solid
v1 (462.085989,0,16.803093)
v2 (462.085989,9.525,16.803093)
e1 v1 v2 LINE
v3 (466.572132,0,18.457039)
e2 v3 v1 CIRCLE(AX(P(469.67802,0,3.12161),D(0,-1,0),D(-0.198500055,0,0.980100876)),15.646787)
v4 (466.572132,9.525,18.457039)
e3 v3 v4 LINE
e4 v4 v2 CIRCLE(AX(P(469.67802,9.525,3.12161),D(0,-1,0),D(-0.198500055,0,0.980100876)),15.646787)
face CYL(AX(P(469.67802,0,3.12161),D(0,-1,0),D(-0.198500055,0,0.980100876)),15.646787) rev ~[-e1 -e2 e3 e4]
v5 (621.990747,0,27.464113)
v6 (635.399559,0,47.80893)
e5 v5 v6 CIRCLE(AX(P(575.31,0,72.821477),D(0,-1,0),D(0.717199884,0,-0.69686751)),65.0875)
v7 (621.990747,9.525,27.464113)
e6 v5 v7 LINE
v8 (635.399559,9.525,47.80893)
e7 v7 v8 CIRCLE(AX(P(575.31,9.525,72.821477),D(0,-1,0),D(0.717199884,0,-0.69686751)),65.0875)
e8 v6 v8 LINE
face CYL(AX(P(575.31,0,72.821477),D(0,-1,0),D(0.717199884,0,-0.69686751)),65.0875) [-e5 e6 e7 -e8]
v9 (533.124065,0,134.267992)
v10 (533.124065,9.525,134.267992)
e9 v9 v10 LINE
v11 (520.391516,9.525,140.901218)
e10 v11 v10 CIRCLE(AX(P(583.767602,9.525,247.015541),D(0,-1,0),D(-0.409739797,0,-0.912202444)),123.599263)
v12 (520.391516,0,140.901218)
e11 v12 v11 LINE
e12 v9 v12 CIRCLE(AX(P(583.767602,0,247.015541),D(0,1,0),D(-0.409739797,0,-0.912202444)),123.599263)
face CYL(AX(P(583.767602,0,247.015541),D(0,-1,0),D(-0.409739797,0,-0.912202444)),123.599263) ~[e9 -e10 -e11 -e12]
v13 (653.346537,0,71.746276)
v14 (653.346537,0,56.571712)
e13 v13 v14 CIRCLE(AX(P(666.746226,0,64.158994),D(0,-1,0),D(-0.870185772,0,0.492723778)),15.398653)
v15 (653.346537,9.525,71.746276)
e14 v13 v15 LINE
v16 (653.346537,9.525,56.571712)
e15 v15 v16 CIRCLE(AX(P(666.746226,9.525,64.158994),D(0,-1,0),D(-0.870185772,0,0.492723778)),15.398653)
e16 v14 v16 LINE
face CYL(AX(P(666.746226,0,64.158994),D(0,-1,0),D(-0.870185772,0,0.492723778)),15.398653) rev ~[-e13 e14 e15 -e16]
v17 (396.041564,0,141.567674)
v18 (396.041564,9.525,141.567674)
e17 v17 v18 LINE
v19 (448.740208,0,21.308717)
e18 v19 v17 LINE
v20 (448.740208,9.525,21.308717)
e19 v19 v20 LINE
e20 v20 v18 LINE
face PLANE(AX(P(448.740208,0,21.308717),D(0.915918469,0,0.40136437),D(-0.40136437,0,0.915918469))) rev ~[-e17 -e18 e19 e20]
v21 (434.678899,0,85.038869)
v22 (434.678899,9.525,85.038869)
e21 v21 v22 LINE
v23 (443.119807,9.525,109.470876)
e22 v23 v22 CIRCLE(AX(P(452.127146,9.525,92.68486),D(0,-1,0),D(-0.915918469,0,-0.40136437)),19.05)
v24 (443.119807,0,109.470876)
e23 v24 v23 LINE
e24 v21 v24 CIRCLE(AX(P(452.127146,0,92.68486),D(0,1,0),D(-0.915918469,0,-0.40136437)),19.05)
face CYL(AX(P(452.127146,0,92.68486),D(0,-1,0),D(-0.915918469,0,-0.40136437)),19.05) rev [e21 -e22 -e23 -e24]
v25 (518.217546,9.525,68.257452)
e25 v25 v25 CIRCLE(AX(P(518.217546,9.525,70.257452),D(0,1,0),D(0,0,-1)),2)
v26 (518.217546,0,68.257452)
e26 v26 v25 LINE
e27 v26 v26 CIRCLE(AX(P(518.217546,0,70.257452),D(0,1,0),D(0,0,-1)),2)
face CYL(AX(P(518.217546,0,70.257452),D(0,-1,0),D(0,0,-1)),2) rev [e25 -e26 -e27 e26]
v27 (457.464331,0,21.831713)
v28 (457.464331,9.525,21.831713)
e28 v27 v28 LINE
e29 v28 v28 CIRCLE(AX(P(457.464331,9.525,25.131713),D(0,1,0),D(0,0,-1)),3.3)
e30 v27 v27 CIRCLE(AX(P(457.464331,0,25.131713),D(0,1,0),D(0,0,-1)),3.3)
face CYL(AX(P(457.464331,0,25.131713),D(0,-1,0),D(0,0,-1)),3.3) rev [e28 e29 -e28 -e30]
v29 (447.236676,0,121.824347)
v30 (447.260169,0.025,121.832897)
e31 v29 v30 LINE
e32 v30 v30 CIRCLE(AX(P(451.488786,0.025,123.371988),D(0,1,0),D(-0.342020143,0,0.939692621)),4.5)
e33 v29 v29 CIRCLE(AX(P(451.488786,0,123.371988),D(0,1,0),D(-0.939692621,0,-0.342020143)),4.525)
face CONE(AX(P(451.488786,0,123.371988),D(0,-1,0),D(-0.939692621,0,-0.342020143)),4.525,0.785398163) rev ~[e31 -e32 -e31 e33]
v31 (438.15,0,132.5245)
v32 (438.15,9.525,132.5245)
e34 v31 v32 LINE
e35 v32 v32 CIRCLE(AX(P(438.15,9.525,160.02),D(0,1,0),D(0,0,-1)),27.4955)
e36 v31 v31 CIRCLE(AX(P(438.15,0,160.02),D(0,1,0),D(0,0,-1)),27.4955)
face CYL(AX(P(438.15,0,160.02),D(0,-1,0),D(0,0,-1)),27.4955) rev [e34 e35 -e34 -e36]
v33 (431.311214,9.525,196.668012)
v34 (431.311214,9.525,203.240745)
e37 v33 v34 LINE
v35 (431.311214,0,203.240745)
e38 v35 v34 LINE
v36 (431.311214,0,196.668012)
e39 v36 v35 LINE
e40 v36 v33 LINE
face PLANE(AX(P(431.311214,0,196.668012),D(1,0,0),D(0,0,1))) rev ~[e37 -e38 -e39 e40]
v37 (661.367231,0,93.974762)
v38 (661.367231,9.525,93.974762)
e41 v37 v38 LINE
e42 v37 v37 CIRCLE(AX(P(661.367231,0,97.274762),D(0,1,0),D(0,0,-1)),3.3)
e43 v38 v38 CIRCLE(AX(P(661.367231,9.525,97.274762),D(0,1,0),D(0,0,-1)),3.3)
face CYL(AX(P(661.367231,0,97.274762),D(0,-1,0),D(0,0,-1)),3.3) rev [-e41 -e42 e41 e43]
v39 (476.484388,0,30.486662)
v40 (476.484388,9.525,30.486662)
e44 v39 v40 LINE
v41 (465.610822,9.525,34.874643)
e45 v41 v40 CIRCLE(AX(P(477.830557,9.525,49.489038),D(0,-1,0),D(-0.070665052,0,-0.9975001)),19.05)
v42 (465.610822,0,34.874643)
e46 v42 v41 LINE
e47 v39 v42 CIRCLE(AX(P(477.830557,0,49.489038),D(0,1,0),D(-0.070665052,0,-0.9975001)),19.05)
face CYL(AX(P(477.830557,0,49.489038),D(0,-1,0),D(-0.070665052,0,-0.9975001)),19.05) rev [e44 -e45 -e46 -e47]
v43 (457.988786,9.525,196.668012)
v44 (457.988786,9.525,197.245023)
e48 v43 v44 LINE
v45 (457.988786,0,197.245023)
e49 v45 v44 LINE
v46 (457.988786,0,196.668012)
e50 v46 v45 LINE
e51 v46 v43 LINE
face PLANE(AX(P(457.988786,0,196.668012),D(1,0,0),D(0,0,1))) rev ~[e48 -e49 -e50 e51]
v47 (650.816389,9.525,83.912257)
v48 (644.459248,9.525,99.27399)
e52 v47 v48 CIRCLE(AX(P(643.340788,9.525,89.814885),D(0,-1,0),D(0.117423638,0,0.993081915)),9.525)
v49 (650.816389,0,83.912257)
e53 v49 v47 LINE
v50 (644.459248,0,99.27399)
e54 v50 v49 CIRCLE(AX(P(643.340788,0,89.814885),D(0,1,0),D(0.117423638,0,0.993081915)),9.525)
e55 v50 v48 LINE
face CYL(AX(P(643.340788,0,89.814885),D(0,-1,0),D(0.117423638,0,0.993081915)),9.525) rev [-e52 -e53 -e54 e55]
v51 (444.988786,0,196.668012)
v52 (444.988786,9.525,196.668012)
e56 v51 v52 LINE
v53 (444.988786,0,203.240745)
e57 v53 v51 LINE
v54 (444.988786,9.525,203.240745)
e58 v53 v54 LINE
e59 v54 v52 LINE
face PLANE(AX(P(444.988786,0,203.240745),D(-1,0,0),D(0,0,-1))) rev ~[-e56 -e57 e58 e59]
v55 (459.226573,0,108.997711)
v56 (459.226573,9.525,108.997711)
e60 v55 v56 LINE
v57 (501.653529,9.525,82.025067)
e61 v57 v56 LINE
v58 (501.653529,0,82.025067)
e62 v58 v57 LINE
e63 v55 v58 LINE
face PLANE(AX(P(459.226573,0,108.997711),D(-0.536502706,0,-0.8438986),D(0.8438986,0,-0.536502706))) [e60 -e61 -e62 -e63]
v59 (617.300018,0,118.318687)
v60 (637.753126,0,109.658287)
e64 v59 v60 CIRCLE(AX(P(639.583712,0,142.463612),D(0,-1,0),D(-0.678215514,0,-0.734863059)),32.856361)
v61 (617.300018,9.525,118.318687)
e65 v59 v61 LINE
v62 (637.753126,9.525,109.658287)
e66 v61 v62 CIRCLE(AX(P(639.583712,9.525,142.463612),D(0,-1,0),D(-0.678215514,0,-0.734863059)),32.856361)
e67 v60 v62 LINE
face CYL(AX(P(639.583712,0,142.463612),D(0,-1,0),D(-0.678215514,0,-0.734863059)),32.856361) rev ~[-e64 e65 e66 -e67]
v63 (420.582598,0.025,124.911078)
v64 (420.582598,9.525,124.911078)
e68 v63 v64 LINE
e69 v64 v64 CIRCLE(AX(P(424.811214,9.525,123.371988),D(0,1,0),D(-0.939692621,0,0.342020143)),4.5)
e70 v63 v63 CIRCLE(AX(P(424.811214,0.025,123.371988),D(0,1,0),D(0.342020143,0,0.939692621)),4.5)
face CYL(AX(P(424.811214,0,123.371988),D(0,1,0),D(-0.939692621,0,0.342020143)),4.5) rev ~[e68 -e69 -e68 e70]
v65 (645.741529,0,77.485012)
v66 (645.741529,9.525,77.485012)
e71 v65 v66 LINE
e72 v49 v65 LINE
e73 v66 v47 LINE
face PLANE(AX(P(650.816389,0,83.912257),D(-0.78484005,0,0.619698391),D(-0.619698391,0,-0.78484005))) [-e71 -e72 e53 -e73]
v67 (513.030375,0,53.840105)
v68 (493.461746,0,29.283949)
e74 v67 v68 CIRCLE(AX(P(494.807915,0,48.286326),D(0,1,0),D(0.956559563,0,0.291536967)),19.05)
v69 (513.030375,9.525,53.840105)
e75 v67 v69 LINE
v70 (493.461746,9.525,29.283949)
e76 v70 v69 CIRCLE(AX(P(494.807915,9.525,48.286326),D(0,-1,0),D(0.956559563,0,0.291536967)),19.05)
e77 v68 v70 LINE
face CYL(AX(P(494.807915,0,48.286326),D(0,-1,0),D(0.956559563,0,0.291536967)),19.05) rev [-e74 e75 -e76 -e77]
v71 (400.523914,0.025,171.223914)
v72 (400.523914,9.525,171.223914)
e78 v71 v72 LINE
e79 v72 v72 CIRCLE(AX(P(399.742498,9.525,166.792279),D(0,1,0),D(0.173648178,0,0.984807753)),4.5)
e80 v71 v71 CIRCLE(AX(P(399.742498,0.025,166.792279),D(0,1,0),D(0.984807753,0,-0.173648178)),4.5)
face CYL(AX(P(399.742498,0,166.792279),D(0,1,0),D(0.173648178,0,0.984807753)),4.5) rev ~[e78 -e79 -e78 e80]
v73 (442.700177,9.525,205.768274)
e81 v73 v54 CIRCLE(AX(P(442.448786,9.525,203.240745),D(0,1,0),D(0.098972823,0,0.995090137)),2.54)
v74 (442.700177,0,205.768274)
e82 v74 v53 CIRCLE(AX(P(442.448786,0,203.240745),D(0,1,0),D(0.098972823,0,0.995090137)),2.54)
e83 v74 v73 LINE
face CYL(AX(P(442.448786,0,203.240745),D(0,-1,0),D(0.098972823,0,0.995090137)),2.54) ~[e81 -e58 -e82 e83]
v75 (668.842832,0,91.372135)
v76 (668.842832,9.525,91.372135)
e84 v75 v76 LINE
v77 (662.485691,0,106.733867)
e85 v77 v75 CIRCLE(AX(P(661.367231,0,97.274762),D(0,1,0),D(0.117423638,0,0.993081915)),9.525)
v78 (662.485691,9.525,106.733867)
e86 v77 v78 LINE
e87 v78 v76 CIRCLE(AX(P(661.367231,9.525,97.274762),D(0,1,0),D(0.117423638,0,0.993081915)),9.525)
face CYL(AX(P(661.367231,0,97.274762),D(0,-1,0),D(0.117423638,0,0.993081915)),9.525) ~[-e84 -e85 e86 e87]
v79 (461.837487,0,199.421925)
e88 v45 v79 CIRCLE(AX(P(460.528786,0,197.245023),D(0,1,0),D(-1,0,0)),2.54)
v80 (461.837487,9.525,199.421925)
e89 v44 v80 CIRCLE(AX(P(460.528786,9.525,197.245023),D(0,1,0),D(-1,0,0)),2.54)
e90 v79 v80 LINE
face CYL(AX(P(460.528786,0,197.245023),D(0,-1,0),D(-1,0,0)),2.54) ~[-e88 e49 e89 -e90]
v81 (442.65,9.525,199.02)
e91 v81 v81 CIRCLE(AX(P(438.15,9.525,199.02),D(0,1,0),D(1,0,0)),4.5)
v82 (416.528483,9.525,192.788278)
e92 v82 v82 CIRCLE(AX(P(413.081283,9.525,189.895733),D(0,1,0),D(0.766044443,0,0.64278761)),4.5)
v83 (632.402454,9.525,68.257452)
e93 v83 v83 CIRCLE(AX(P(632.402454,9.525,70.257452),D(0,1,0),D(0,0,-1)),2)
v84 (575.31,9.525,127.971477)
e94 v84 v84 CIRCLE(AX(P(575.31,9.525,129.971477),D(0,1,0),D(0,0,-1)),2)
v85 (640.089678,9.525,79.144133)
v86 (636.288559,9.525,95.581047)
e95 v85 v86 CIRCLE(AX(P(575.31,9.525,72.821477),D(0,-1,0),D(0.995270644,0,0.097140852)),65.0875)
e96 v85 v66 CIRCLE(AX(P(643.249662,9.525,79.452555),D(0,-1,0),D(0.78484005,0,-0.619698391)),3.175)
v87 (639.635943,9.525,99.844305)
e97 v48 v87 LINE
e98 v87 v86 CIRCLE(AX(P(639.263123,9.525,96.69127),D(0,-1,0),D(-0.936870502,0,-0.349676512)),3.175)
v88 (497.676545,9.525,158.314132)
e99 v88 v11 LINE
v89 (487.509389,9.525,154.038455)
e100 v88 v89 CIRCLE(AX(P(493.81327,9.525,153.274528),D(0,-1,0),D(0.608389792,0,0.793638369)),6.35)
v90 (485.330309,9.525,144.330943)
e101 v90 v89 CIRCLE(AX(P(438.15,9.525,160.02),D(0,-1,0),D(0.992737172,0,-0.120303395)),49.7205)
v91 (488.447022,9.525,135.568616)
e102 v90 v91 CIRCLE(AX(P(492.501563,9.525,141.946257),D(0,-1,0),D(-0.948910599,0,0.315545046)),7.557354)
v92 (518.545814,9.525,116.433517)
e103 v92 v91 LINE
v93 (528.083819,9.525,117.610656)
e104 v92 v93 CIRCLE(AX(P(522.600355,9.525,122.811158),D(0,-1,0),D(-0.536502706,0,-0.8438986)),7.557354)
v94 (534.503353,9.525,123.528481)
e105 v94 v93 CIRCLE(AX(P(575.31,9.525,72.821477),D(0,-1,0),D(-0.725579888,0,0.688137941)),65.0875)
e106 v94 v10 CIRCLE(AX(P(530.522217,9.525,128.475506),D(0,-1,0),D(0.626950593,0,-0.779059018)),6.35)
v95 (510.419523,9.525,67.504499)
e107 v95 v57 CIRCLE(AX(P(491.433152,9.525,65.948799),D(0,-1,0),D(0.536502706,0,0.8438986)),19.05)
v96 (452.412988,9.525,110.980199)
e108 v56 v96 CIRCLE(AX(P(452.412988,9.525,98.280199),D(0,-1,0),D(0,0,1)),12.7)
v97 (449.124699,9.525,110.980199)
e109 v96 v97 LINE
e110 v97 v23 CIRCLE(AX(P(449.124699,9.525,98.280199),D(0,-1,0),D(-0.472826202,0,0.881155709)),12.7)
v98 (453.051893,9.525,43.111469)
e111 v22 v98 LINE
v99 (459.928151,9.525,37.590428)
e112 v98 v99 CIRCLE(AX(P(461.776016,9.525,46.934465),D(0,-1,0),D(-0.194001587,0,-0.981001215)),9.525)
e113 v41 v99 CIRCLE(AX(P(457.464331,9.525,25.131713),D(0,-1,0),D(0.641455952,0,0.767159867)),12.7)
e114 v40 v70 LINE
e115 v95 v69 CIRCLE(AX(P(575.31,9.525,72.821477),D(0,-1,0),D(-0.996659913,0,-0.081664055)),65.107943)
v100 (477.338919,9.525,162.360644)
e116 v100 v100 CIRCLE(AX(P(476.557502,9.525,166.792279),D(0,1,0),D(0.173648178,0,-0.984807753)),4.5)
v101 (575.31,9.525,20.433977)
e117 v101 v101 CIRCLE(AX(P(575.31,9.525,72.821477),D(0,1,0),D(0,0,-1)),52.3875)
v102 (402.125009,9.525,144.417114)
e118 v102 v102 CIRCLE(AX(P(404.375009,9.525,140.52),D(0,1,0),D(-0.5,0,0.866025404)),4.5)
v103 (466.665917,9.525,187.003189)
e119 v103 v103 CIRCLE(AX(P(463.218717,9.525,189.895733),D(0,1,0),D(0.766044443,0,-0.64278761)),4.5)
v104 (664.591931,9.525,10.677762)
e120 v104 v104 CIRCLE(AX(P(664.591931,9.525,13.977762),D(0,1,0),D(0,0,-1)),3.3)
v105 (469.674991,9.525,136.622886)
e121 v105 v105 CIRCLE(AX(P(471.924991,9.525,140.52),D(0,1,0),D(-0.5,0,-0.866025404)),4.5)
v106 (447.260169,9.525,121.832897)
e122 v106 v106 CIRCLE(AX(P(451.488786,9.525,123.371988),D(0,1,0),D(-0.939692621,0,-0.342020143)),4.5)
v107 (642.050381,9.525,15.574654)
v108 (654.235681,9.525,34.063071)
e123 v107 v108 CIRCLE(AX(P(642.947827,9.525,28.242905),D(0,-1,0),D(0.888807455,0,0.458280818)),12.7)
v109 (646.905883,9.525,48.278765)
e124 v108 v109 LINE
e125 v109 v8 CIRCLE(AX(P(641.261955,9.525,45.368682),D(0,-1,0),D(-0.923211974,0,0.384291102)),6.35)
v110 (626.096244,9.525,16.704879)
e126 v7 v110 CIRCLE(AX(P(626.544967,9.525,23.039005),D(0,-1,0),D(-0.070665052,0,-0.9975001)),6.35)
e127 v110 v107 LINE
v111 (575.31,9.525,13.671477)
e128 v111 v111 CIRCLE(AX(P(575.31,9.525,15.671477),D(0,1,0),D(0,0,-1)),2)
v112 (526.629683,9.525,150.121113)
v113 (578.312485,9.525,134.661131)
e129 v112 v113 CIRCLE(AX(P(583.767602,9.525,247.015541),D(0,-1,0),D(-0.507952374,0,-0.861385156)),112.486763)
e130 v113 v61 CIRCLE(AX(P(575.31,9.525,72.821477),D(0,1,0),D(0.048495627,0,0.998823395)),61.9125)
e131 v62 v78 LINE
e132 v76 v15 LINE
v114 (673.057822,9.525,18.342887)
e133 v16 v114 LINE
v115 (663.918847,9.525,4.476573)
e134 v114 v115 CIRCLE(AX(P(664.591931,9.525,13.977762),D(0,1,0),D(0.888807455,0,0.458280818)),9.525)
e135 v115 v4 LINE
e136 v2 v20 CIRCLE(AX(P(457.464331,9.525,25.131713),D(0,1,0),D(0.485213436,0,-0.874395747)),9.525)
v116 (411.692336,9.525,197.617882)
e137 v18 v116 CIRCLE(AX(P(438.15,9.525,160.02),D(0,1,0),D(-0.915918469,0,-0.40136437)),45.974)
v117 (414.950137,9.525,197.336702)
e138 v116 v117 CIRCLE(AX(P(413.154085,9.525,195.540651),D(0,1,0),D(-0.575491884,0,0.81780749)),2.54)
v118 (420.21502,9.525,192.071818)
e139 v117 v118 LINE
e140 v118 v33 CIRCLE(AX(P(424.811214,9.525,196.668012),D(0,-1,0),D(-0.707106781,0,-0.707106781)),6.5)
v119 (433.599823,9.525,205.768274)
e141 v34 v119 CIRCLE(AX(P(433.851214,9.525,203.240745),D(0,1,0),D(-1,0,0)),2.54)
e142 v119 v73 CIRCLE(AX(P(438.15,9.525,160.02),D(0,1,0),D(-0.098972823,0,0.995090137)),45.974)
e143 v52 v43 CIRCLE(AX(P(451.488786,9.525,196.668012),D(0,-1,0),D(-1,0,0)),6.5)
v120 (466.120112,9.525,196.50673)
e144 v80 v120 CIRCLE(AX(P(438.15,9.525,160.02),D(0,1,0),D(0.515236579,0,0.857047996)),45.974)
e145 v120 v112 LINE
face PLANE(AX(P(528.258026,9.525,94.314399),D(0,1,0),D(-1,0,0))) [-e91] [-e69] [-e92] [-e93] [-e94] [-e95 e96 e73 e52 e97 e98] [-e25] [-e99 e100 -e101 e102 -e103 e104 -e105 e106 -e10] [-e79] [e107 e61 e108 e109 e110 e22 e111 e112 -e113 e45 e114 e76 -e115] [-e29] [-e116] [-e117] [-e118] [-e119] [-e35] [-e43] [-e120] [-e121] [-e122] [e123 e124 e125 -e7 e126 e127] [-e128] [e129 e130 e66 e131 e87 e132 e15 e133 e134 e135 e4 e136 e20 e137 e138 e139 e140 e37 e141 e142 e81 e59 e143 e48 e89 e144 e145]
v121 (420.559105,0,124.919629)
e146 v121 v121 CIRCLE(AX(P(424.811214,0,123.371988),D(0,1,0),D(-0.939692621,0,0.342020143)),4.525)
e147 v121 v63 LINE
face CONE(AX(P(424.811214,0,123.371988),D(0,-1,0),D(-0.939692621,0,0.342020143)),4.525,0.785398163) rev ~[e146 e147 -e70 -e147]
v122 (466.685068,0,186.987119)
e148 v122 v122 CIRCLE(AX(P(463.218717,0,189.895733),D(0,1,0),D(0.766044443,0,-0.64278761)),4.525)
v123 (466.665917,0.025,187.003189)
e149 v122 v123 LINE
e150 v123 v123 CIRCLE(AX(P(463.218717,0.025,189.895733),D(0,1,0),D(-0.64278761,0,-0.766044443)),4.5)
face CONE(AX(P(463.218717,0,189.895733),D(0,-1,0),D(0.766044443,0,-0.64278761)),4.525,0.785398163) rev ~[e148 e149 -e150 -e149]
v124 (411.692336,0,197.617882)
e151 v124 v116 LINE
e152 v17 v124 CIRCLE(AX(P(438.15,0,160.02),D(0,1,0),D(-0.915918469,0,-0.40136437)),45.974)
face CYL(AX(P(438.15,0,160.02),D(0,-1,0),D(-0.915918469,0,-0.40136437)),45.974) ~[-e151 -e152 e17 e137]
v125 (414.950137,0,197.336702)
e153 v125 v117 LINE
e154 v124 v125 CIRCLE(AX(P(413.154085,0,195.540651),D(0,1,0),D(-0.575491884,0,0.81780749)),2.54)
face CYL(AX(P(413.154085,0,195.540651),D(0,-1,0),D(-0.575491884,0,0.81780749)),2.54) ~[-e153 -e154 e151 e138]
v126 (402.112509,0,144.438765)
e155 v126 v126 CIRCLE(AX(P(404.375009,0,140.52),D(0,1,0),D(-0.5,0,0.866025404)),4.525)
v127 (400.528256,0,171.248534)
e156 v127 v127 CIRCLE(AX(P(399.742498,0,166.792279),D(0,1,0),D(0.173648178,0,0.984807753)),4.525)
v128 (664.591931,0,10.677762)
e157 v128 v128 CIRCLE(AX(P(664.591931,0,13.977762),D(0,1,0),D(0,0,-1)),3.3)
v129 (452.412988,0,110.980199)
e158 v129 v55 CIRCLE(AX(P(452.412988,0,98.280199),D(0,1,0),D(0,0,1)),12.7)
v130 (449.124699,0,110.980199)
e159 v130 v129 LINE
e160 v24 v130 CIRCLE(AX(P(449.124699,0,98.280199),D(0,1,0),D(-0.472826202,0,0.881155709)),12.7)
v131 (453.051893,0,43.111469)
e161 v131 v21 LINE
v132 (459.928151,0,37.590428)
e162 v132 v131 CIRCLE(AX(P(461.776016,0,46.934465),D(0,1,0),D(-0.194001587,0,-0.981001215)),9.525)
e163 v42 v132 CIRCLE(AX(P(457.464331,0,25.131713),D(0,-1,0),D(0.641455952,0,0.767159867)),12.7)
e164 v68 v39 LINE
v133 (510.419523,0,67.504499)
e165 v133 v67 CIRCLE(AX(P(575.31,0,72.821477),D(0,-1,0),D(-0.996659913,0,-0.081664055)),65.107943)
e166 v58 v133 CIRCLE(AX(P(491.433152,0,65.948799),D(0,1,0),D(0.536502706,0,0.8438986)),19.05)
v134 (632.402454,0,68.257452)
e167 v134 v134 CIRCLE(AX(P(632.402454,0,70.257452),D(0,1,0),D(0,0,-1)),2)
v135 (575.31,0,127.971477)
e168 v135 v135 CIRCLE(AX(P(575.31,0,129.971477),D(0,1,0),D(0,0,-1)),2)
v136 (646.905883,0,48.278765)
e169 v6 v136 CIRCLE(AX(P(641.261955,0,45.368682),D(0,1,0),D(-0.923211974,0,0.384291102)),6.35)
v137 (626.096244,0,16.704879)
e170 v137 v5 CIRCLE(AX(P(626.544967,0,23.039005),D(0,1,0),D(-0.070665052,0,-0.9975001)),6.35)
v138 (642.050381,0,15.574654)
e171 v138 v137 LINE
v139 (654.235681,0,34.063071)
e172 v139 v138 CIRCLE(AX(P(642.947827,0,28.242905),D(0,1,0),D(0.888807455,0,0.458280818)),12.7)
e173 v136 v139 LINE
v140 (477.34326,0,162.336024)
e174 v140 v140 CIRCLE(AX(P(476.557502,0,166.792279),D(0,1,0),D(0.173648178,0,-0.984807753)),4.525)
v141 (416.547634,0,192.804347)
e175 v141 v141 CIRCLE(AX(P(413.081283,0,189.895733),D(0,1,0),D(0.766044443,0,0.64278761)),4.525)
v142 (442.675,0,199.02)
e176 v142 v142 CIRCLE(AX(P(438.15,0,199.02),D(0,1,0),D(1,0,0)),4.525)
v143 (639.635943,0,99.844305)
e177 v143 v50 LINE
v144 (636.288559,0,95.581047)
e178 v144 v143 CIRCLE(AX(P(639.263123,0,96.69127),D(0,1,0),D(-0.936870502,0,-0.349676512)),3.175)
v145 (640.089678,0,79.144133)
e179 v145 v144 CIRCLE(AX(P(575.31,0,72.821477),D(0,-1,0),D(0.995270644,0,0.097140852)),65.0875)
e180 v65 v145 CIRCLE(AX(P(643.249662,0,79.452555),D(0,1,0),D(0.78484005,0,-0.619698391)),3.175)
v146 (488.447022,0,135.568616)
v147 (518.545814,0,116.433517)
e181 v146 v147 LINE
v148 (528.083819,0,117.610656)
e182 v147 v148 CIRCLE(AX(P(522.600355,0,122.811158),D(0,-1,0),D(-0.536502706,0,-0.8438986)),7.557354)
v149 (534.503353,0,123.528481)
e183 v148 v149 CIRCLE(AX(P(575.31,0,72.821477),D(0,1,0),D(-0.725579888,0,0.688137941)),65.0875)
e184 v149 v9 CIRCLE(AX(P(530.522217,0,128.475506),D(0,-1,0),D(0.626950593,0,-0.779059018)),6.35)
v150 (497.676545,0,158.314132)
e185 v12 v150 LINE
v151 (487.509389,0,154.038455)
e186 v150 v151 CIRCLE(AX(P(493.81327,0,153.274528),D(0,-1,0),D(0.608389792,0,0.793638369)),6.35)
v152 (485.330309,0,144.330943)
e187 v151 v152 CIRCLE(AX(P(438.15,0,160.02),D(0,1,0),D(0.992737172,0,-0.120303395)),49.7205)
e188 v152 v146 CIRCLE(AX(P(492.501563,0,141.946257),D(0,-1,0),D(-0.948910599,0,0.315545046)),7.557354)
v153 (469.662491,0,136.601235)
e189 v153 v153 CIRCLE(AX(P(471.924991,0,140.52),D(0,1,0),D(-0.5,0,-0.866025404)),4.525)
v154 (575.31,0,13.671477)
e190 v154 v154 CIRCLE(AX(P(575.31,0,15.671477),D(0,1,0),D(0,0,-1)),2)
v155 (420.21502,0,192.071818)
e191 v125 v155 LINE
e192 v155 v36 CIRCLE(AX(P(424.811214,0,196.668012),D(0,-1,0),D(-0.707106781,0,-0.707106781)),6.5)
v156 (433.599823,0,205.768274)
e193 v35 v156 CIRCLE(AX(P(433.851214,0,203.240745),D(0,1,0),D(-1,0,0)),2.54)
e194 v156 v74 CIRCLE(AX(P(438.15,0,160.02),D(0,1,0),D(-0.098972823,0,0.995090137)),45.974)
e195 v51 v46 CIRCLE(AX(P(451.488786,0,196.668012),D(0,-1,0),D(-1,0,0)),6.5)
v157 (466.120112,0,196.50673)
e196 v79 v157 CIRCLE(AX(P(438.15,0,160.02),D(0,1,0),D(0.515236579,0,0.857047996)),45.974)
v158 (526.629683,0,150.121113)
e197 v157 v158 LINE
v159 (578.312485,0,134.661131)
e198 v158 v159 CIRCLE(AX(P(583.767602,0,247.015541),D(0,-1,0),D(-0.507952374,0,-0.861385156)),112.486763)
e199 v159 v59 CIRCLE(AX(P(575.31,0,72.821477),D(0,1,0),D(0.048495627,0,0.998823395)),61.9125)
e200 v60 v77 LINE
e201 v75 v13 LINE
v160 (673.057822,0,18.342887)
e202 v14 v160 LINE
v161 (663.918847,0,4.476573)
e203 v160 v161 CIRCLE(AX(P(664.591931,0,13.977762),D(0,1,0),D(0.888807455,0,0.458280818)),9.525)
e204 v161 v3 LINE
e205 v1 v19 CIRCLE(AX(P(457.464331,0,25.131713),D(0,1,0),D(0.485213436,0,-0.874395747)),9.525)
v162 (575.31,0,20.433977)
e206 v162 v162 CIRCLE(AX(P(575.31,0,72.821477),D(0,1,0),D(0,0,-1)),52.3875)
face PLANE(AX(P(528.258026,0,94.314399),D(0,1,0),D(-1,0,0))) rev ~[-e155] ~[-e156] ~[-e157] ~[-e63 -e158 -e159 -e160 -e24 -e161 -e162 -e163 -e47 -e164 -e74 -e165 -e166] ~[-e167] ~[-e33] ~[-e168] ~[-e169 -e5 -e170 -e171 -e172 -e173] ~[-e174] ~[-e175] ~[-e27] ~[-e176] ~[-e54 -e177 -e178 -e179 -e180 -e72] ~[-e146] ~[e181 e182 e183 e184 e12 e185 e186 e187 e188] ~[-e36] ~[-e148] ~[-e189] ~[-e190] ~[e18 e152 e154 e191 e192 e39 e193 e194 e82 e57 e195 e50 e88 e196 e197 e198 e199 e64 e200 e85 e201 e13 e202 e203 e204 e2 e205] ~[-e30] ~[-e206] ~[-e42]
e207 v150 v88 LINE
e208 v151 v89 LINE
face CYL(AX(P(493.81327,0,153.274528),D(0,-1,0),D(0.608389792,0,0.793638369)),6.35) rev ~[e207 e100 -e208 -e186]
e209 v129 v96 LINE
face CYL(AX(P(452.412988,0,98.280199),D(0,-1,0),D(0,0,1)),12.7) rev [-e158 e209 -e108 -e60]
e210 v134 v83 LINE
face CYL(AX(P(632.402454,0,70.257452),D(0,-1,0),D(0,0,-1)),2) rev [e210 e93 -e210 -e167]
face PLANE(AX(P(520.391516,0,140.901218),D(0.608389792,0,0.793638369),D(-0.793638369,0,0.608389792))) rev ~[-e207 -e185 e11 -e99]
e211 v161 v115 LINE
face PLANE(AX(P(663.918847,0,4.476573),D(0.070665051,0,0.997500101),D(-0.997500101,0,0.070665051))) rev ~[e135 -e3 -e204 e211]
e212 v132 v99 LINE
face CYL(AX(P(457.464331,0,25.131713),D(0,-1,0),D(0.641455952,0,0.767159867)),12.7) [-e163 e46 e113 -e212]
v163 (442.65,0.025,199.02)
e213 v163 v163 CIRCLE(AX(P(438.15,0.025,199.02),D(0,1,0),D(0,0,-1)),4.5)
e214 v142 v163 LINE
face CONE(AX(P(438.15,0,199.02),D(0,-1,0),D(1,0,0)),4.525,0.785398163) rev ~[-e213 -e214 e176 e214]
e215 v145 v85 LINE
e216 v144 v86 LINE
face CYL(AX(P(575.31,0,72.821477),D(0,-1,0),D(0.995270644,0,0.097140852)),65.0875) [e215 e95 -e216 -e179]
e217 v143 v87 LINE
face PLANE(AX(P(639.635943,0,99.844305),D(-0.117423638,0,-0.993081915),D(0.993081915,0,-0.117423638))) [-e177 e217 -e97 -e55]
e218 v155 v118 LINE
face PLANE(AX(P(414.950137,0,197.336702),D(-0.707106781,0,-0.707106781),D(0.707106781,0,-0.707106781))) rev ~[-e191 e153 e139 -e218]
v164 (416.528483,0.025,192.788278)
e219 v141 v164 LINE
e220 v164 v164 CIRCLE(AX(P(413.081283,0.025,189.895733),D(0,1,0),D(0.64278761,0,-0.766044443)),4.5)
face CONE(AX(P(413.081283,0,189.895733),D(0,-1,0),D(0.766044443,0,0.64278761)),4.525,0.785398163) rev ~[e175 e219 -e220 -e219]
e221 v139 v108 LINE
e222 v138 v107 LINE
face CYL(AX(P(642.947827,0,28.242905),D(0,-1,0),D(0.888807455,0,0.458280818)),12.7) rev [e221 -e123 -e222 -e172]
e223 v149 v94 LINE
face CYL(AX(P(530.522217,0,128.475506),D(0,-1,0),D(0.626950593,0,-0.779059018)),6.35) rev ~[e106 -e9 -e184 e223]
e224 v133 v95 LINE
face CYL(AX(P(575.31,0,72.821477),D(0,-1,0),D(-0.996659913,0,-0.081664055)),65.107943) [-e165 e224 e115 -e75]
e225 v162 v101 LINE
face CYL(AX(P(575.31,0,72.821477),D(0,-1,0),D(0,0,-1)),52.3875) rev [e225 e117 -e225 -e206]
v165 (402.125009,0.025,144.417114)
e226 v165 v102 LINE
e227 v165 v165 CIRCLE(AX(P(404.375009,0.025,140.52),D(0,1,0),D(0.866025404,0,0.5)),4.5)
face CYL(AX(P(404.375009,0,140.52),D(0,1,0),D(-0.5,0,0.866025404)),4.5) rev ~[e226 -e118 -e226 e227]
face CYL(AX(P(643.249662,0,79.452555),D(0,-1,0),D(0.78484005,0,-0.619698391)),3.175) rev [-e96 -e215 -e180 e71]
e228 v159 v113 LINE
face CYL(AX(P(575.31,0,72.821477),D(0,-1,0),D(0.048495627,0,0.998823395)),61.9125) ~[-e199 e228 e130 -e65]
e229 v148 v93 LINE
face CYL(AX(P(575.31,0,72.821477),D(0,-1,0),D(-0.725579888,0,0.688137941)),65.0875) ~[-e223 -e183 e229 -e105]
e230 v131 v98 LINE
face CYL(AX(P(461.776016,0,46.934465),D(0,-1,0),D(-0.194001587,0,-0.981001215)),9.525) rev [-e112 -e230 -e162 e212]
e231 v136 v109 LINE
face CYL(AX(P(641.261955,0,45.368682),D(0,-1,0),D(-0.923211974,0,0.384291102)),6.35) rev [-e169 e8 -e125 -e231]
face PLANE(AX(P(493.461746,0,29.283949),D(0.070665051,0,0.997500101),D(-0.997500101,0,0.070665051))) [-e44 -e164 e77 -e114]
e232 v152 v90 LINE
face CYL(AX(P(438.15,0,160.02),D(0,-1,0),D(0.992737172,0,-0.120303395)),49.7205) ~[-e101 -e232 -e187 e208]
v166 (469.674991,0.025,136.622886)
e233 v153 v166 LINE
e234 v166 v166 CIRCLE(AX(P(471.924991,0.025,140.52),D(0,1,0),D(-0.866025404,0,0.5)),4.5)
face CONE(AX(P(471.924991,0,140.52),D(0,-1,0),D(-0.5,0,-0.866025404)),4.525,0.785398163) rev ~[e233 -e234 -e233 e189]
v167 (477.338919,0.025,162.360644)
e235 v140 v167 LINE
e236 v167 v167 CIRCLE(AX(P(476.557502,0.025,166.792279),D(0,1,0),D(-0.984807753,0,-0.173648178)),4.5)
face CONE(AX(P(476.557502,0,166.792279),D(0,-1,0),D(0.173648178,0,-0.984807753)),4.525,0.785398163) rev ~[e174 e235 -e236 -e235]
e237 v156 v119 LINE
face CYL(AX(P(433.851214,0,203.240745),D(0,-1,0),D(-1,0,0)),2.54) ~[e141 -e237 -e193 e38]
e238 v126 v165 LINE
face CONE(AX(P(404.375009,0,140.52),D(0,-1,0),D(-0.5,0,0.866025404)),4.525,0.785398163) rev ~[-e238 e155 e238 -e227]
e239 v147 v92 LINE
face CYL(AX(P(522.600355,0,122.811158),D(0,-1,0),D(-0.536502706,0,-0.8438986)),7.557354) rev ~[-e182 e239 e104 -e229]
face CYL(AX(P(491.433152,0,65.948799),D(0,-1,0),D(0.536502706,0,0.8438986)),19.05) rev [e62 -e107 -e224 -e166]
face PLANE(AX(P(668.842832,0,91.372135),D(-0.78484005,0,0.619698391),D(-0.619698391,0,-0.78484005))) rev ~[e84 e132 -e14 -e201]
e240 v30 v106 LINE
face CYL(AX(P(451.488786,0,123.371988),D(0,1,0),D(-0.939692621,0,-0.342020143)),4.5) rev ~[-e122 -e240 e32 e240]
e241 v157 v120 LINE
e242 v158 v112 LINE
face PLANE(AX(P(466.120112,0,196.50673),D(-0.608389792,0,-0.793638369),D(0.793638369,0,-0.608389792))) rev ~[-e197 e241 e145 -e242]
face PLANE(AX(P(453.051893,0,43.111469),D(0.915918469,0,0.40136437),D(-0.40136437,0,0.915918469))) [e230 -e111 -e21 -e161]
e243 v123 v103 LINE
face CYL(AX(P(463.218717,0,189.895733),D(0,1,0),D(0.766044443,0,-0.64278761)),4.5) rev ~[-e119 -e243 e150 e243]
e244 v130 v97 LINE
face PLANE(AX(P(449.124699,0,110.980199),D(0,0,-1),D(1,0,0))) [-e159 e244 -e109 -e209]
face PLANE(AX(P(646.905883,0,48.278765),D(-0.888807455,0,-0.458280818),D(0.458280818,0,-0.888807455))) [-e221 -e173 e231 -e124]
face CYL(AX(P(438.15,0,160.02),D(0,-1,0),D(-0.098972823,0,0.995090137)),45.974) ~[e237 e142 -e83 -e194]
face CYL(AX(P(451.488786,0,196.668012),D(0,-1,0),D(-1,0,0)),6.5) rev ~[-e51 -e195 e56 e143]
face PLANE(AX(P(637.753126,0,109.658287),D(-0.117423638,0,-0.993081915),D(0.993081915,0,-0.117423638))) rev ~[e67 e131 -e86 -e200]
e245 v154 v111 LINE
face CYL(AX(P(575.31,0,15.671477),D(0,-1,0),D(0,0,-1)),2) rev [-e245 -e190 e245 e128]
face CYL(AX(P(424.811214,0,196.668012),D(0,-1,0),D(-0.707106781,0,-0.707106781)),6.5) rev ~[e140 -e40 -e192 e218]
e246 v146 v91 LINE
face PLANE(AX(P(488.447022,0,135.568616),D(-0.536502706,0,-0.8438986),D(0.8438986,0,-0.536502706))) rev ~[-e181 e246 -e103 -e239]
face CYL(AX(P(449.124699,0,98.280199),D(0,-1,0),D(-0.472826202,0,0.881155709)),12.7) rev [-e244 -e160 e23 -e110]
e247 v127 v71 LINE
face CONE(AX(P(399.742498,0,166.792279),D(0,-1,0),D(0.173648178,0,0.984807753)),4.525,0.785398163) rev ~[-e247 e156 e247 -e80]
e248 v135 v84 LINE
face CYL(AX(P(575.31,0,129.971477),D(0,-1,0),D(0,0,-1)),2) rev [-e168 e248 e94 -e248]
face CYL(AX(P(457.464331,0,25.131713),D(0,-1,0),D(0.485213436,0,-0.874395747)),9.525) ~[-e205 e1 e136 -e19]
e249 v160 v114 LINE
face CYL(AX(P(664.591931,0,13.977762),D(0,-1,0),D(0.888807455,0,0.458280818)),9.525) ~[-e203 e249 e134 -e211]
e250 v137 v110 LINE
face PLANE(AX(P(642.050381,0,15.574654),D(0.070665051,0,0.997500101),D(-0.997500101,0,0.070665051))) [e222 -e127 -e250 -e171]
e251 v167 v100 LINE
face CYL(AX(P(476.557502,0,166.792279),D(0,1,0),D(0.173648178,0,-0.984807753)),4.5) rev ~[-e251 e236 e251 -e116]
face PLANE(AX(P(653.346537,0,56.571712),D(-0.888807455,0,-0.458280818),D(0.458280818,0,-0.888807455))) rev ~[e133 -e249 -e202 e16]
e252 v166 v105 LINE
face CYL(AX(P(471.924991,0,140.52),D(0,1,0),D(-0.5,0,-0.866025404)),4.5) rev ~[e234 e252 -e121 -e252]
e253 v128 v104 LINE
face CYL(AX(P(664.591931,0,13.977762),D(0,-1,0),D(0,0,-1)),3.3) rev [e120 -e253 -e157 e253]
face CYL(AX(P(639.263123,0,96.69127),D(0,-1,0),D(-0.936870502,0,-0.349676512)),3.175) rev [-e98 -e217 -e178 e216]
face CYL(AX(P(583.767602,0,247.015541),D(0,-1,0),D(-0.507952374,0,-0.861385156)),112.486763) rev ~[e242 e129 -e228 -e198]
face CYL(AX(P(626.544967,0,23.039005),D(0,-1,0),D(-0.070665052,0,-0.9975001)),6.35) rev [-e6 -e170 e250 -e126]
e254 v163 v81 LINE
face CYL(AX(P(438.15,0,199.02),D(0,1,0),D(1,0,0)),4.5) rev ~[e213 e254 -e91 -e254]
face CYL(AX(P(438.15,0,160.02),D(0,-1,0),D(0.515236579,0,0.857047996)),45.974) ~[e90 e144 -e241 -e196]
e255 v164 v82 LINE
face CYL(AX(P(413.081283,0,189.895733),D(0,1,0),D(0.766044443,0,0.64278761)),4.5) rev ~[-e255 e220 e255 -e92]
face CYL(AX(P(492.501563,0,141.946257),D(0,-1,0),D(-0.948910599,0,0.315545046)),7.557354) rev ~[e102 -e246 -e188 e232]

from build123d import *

# Parameters (mm, degrees)
SKETCH1_R                      = 27.4955
SKETCH1_R_2                    = 2
SKETCH1_R_3                    = 52.3875
SKETCH1_R_4                    = 3.3
BOSS_EXTRUDE1_DEPTH            = 9.525
M8_CLEARANCE_HOLE1_D           = 9
M8_CLEARANCE_HOLE1_CSINK_D     = 9.05
M8_CLEARANCE_HOLE1_CSINK_ANGLE = 90
CIRPATTERN1_COUNT              = 9
CUT_EXTRUDE2_DEPTH             = 705.952403184


with BuildPart() as part:
    # Sketch1 → Boss-Extrude1 (new body)
    with BuildSketch(Plane(origin=(0, 0, 0), x_dir=(-1, 0, 0), z_dir=(0, 1, 0))):
        with BuildLine():
            Line((-663.918846707, 4.476573271), (-466.57213203, 18.457038772))
            ThreePointArc((-466.57213203, 18.457038772), (-464.265511177, 17.802436421), (-462.085988967, 16.80309317))
            ThreePointArc((-462.085988967, 16.80309317), (-454.417575787, 16.107140218), (-448.740207572, 21.308717033))
            Line((-448.740207572, 21.308717033), (-396.041564291, 141.567674451))
            ThreePointArc((-396.041564291, 141.567674451), (-393.869824608, 172.384252636), (-411.692336104, 197.617881552))
            ThreePointArc((-411.692336104, 197.617881552), (-413.372500119, 198.071242365), (-414.950136715, 197.336701751))
            Line((-414.950136715, 197.336701751), (-420.215020333, 192.071818133))
            ThreePointArc((-420.215020333, 192.071818133), (-427.298656721, 190.662795249), (-431.31121441, 196.668012211))
            Line((-431.31121441, 196.668012211), (-431.31121441, 203.240745001))
            ThreePointArc((-431.31121441, 203.240745001), (-431.968379704, 204.945600851), (-433.59982344, 205.768273949))
            ThreePointArc((-433.59982344, 205.768273949), (-438.15, 205.994), (-442.70017656, 205.768273949))
            ThreePointArc((-442.70017656, 205.768273949), (-444.331620296, 204.945600851), (-444.98878559, 203.240745001))
            Line((-444.98878559, 203.240745001), (-444.98878559, 196.668012211))
            ThreePointArc((-444.98878559, 196.668012211), (-451.48878559, 190.168012211), (-457.98878559, 196.668012211))
            Line((-457.98878559, 196.668012211), (-457.98878559, 197.245022653))
            ThreePointArc((-457.98878559, 197.245022653), (-459.278285753, 199.455870942), (-461.837486501, 199.421924563))
            ThreePointArc((-461.837486501, 199.421924563), (-464.019895008, 198.024699819), (-466.120112298, 196.506730383))
            Line((-466.120112298, 196.506730383), (-526.629683433, 150.121113421))
            ThreePointArc((-526.629683433, 150.121113421), (-551.530592574, 139.247052869), (-578.312485484, 134.661130809))
            ThreePointArc((-578.312485484, 134.661130809), (-599.244289514, 129.920579306), (-617.300018038, 118.318686532))
            ThreePointArc((-617.300018038, 118.318686532), (-626.772573796, 112.207783301), (-637.753125569, 109.658286556))
            Line((-637.753125569, 109.658286556), (-662.485690794, 106.73386739))
            ThreePointArc((-662.485690794, 106.73386739), (-670.168377129, 100.916938085), (-668.842832121, 91.372134981))
            Line((-668.842832121, 91.372134981), (-653.346537148, 71.746276485))
            ThreePointArc((-653.346537148, 71.746276485), (-651.347572908, 64.158994024), (-653.346537148, 56.571711562))
            Line((-653.346537148, 56.571711562), (-673.057822329, 18.34288652))
            ThreePointArc((-673.057822329, 18.34288652), (-672.544957076, 8.73610108), (-663.918846707, 4.476573271))
        make_face()
        with Locations(Location((-438.15, 160.02, 0), (0, 0, 270))):
            Circle(SKETCH1_R, mode=Mode.SUBTRACT)
        with Locations(Location((-632.402453753, 70.257452317, 0), (0, 0, 270))):
            Circle(SKETCH1_R_2, mode=Mode.SUBTRACT)
        with Locations(Location((-575.31, 72.821477372, 0), (0, 0, 270))):
            Circle(SKETCH1_R_3, mode=Mode.SUBTRACT)
        with Locations(Location((-661.367230642, 97.274762153, 0), (0, 0, 270))):
            Circle(SKETCH1_R_4, mode=Mode.SUBTRACT)
        with Locations(Location((-664.591931322, 13.977761728, 0), (0, 0, 270))):
            Circle(SKETCH1_R_4, mode=Mode.SUBTRACT)
        with Locations(Location((-457.464330992, 25.131712658, 0), (0, 0, 270))):
            Circle(SKETCH1_R_4, mode=Mode.SUBTRACT)
        with BuildLine():
            ThreePointArc((-518.217546247, 72.257452317), (-520.217546247, 70.257452317), (-518.217546247, 68.257452317))
            ThreePointArc((-518.217546247, 68.257452317), (-516.217546247, 70.257452317), (-518.217546247, 72.257452317))
        make_face(mode=Mode.SUBTRACT)
        with BuildLine():
            ThreePointArc((-575.31, 17.671477372), (-577.31, 15.671477372), (-575.31, 13.671477372))
            ThreePointArc((-575.31, 13.671477372), (-573.31, 15.671477372), (-575.31, 17.671477372))
        make_face(mode=Mode.SUBTRACT)
        with BuildLine():
            ThreePointArc((-575.31, 131.971477372), (-577.31, 129.971477372), (-575.31, 127.971477372))
            ThreePointArc((-575.31, 127.971477372), (-573.31, 129.971477372), (-575.31, 131.971477372))
        make_face(mode=Mode.SUBTRACT)
    extrude(amount=BOSS_EXTRUDE1_DEPTH)

    # M8 Clearance Hole1 (through all)
    with Locations(Plane(origin=(0, 0, 0), x_dir=(-1, 0, 0), z_dir=(0, -1, 0))):
        with Locations((-438.15, -199.019999978)):
            m8_clearance_hole1 = CounterSinkHole(M8_CLEARANCE_HOLE1_D / 2, M8_CLEARANCE_HOLE1_CSINK_D / 2, counter_sink_angle=M8_CLEARANCE_HOLE1_CSINK_ANGLE)

    # CirPattern1: M8 Clearance Hole1 ×9 about axis
    cirpattern1_axis = Axis((438.15, 0, 160.02), (0, 1, 0))
    for i in range(1, CIRPATTERN1_COUNT):
        add(m8_clearance_hole1.rotate(cirpattern1_axis, i * 360 / CIRPATTERN1_COUNT), mode=Mode.SUBTRACT)

    # Sketch10 → Cut-Extrude2 (cut, through all)
    with BuildSketch(Plane.XZ):
        with BuildLine():
            Line((459.226572507, 108.99771107), (501.653528527, 82.025066826))
            ThreePointArc((501.653528527, 82.025066826), (507.74174649, 75.794215969), (510.419523322, 67.504498748))
            ThreePointArc((510.419523322, 67.504498748), (511.358943513, 60.602369407), (513.030374645, 53.840105163))
            ThreePointArc((513.030374645, 53.840105163), (509.706018745, 36.414131356), (493.461745749, 29.283949023))
            Line((493.461745749, 29.283949023), (476.484388236, 30.486661525))
            ThreePointArc((476.484388236, 30.486661525), (470.70159957, 31.823239298), (465.610821582, 34.87464297))
            ThreePointArc((465.610821582, 34.87464297), (462.940510841, 36.590397323), (459.928151148, 37.590428091))
            ThreePointArc((459.928151148, 37.590428091), (455.812610468, 39.507256825), (453.051892844, 43.11146904))
            Line((453.051892844, 43.11146904), (434.678898983, 85.038868854))
            ThreePointArc((434.678898983, 85.038868854), (434.121445197, 98.905571071), (443.119806681, 109.470876354))
            ThreePointArc((443.119806681, 109.470876354), (446.028863873, 110.597089782), (449.124699442, 110.980198854))
            Line((449.124699442, 110.980198854), (452.412988142, 110.980198854))
            ThreePointArc((452.412988142, 110.980198854), (455.961057678, 110.474509108), (459.226572507, 108.99771107))
        make_face()
        with BuildLine():
            Line((488.447021855, 135.568616467), (518.5458141, 116.433517192))
            ThreePointArc((518.5458141, 116.433517192), (523.526027217, 115.31070897), (528.083819046, 117.610655627))
            ThreePointArc((528.083819046, 117.610655627), (531.194244853, 120.677331811), (534.503353276, 123.528481221))
            ThreePointArc((534.503353276, 123.528481221), (536.820485804, 129.284400418), (533.124064721, 134.267991506))
            ThreePointArc((533.124064721, 134.267991506), (526.661398117, 137.399578344), (520.391516426, 140.901217866))
            Line((520.391516426, 140.901217866), (497.676544793, 158.314132116))
            ThreePointArc((497.676544793, 158.314132116), (491.351665893, 159.127989595), (487.50938857, 154.038455032))
            ThreePointArc((487.50938857, 154.038455032), (486.663269024, 149.130057447), (485.330309415, 144.330942547))
            ThreePointArc((485.330309415, 144.330942547), (485.381225421, 139.4135911), (488.447021855, 135.568616467))
        make_face()
        with BuildLine():
            Line((639.635942668, 99.844305363), (644.459248163, 99.273989793))
            ThreePointArc((644.459248163, 99.273989793), (652.141934498, 93.457060489), (650.81638949, 83.912257385))
            Line((650.81638949, 83.912257385), (645.741529497, 77.485012402))
            ThreePointArc((645.741529497, 77.485012402), (642.355366484, 76.406104411), (640.089678042, 79.144132587))
            ThreePointArc((640.089678042, 79.144132587), (638.723930439, 87.486267946), (636.288558775, 95.581047358))
            ThreePointArc((636.288558775, 95.581047358), (636.765902184, 98.652013793), (639.635942668, 99.844305363))
        make_face()
        with BuildLine():
            Line((646.905882736, 48.27876498), (654.235681435, 34.063071304))
            ThreePointArc((654.235681435, 34.063071304), (653.551861098, 21.25402405), (642.050380606, 15.574653638))
            Line((642.050380606, 15.574653638), (626.09624364, 16.704878997))
            ThreePointArc((626.09624364, 16.704878997), (620.612206918, 20.775189015), (621.990747453, 27.464113323))
            ThreePointArc((621.990747453, 27.464113323), (629.655675988, 37.003462943), (635.399559362, 47.808930282))
            ThreePointArc((635.399559362, 47.808930282), (641.002883392, 51.713394678), (646.905882736, 48.27876498))
        make_face()
    extrude(amount=-CUT_EXTRUDE2_DEPTH, mode=Mode.SUBTRACT)


solid = part.part
